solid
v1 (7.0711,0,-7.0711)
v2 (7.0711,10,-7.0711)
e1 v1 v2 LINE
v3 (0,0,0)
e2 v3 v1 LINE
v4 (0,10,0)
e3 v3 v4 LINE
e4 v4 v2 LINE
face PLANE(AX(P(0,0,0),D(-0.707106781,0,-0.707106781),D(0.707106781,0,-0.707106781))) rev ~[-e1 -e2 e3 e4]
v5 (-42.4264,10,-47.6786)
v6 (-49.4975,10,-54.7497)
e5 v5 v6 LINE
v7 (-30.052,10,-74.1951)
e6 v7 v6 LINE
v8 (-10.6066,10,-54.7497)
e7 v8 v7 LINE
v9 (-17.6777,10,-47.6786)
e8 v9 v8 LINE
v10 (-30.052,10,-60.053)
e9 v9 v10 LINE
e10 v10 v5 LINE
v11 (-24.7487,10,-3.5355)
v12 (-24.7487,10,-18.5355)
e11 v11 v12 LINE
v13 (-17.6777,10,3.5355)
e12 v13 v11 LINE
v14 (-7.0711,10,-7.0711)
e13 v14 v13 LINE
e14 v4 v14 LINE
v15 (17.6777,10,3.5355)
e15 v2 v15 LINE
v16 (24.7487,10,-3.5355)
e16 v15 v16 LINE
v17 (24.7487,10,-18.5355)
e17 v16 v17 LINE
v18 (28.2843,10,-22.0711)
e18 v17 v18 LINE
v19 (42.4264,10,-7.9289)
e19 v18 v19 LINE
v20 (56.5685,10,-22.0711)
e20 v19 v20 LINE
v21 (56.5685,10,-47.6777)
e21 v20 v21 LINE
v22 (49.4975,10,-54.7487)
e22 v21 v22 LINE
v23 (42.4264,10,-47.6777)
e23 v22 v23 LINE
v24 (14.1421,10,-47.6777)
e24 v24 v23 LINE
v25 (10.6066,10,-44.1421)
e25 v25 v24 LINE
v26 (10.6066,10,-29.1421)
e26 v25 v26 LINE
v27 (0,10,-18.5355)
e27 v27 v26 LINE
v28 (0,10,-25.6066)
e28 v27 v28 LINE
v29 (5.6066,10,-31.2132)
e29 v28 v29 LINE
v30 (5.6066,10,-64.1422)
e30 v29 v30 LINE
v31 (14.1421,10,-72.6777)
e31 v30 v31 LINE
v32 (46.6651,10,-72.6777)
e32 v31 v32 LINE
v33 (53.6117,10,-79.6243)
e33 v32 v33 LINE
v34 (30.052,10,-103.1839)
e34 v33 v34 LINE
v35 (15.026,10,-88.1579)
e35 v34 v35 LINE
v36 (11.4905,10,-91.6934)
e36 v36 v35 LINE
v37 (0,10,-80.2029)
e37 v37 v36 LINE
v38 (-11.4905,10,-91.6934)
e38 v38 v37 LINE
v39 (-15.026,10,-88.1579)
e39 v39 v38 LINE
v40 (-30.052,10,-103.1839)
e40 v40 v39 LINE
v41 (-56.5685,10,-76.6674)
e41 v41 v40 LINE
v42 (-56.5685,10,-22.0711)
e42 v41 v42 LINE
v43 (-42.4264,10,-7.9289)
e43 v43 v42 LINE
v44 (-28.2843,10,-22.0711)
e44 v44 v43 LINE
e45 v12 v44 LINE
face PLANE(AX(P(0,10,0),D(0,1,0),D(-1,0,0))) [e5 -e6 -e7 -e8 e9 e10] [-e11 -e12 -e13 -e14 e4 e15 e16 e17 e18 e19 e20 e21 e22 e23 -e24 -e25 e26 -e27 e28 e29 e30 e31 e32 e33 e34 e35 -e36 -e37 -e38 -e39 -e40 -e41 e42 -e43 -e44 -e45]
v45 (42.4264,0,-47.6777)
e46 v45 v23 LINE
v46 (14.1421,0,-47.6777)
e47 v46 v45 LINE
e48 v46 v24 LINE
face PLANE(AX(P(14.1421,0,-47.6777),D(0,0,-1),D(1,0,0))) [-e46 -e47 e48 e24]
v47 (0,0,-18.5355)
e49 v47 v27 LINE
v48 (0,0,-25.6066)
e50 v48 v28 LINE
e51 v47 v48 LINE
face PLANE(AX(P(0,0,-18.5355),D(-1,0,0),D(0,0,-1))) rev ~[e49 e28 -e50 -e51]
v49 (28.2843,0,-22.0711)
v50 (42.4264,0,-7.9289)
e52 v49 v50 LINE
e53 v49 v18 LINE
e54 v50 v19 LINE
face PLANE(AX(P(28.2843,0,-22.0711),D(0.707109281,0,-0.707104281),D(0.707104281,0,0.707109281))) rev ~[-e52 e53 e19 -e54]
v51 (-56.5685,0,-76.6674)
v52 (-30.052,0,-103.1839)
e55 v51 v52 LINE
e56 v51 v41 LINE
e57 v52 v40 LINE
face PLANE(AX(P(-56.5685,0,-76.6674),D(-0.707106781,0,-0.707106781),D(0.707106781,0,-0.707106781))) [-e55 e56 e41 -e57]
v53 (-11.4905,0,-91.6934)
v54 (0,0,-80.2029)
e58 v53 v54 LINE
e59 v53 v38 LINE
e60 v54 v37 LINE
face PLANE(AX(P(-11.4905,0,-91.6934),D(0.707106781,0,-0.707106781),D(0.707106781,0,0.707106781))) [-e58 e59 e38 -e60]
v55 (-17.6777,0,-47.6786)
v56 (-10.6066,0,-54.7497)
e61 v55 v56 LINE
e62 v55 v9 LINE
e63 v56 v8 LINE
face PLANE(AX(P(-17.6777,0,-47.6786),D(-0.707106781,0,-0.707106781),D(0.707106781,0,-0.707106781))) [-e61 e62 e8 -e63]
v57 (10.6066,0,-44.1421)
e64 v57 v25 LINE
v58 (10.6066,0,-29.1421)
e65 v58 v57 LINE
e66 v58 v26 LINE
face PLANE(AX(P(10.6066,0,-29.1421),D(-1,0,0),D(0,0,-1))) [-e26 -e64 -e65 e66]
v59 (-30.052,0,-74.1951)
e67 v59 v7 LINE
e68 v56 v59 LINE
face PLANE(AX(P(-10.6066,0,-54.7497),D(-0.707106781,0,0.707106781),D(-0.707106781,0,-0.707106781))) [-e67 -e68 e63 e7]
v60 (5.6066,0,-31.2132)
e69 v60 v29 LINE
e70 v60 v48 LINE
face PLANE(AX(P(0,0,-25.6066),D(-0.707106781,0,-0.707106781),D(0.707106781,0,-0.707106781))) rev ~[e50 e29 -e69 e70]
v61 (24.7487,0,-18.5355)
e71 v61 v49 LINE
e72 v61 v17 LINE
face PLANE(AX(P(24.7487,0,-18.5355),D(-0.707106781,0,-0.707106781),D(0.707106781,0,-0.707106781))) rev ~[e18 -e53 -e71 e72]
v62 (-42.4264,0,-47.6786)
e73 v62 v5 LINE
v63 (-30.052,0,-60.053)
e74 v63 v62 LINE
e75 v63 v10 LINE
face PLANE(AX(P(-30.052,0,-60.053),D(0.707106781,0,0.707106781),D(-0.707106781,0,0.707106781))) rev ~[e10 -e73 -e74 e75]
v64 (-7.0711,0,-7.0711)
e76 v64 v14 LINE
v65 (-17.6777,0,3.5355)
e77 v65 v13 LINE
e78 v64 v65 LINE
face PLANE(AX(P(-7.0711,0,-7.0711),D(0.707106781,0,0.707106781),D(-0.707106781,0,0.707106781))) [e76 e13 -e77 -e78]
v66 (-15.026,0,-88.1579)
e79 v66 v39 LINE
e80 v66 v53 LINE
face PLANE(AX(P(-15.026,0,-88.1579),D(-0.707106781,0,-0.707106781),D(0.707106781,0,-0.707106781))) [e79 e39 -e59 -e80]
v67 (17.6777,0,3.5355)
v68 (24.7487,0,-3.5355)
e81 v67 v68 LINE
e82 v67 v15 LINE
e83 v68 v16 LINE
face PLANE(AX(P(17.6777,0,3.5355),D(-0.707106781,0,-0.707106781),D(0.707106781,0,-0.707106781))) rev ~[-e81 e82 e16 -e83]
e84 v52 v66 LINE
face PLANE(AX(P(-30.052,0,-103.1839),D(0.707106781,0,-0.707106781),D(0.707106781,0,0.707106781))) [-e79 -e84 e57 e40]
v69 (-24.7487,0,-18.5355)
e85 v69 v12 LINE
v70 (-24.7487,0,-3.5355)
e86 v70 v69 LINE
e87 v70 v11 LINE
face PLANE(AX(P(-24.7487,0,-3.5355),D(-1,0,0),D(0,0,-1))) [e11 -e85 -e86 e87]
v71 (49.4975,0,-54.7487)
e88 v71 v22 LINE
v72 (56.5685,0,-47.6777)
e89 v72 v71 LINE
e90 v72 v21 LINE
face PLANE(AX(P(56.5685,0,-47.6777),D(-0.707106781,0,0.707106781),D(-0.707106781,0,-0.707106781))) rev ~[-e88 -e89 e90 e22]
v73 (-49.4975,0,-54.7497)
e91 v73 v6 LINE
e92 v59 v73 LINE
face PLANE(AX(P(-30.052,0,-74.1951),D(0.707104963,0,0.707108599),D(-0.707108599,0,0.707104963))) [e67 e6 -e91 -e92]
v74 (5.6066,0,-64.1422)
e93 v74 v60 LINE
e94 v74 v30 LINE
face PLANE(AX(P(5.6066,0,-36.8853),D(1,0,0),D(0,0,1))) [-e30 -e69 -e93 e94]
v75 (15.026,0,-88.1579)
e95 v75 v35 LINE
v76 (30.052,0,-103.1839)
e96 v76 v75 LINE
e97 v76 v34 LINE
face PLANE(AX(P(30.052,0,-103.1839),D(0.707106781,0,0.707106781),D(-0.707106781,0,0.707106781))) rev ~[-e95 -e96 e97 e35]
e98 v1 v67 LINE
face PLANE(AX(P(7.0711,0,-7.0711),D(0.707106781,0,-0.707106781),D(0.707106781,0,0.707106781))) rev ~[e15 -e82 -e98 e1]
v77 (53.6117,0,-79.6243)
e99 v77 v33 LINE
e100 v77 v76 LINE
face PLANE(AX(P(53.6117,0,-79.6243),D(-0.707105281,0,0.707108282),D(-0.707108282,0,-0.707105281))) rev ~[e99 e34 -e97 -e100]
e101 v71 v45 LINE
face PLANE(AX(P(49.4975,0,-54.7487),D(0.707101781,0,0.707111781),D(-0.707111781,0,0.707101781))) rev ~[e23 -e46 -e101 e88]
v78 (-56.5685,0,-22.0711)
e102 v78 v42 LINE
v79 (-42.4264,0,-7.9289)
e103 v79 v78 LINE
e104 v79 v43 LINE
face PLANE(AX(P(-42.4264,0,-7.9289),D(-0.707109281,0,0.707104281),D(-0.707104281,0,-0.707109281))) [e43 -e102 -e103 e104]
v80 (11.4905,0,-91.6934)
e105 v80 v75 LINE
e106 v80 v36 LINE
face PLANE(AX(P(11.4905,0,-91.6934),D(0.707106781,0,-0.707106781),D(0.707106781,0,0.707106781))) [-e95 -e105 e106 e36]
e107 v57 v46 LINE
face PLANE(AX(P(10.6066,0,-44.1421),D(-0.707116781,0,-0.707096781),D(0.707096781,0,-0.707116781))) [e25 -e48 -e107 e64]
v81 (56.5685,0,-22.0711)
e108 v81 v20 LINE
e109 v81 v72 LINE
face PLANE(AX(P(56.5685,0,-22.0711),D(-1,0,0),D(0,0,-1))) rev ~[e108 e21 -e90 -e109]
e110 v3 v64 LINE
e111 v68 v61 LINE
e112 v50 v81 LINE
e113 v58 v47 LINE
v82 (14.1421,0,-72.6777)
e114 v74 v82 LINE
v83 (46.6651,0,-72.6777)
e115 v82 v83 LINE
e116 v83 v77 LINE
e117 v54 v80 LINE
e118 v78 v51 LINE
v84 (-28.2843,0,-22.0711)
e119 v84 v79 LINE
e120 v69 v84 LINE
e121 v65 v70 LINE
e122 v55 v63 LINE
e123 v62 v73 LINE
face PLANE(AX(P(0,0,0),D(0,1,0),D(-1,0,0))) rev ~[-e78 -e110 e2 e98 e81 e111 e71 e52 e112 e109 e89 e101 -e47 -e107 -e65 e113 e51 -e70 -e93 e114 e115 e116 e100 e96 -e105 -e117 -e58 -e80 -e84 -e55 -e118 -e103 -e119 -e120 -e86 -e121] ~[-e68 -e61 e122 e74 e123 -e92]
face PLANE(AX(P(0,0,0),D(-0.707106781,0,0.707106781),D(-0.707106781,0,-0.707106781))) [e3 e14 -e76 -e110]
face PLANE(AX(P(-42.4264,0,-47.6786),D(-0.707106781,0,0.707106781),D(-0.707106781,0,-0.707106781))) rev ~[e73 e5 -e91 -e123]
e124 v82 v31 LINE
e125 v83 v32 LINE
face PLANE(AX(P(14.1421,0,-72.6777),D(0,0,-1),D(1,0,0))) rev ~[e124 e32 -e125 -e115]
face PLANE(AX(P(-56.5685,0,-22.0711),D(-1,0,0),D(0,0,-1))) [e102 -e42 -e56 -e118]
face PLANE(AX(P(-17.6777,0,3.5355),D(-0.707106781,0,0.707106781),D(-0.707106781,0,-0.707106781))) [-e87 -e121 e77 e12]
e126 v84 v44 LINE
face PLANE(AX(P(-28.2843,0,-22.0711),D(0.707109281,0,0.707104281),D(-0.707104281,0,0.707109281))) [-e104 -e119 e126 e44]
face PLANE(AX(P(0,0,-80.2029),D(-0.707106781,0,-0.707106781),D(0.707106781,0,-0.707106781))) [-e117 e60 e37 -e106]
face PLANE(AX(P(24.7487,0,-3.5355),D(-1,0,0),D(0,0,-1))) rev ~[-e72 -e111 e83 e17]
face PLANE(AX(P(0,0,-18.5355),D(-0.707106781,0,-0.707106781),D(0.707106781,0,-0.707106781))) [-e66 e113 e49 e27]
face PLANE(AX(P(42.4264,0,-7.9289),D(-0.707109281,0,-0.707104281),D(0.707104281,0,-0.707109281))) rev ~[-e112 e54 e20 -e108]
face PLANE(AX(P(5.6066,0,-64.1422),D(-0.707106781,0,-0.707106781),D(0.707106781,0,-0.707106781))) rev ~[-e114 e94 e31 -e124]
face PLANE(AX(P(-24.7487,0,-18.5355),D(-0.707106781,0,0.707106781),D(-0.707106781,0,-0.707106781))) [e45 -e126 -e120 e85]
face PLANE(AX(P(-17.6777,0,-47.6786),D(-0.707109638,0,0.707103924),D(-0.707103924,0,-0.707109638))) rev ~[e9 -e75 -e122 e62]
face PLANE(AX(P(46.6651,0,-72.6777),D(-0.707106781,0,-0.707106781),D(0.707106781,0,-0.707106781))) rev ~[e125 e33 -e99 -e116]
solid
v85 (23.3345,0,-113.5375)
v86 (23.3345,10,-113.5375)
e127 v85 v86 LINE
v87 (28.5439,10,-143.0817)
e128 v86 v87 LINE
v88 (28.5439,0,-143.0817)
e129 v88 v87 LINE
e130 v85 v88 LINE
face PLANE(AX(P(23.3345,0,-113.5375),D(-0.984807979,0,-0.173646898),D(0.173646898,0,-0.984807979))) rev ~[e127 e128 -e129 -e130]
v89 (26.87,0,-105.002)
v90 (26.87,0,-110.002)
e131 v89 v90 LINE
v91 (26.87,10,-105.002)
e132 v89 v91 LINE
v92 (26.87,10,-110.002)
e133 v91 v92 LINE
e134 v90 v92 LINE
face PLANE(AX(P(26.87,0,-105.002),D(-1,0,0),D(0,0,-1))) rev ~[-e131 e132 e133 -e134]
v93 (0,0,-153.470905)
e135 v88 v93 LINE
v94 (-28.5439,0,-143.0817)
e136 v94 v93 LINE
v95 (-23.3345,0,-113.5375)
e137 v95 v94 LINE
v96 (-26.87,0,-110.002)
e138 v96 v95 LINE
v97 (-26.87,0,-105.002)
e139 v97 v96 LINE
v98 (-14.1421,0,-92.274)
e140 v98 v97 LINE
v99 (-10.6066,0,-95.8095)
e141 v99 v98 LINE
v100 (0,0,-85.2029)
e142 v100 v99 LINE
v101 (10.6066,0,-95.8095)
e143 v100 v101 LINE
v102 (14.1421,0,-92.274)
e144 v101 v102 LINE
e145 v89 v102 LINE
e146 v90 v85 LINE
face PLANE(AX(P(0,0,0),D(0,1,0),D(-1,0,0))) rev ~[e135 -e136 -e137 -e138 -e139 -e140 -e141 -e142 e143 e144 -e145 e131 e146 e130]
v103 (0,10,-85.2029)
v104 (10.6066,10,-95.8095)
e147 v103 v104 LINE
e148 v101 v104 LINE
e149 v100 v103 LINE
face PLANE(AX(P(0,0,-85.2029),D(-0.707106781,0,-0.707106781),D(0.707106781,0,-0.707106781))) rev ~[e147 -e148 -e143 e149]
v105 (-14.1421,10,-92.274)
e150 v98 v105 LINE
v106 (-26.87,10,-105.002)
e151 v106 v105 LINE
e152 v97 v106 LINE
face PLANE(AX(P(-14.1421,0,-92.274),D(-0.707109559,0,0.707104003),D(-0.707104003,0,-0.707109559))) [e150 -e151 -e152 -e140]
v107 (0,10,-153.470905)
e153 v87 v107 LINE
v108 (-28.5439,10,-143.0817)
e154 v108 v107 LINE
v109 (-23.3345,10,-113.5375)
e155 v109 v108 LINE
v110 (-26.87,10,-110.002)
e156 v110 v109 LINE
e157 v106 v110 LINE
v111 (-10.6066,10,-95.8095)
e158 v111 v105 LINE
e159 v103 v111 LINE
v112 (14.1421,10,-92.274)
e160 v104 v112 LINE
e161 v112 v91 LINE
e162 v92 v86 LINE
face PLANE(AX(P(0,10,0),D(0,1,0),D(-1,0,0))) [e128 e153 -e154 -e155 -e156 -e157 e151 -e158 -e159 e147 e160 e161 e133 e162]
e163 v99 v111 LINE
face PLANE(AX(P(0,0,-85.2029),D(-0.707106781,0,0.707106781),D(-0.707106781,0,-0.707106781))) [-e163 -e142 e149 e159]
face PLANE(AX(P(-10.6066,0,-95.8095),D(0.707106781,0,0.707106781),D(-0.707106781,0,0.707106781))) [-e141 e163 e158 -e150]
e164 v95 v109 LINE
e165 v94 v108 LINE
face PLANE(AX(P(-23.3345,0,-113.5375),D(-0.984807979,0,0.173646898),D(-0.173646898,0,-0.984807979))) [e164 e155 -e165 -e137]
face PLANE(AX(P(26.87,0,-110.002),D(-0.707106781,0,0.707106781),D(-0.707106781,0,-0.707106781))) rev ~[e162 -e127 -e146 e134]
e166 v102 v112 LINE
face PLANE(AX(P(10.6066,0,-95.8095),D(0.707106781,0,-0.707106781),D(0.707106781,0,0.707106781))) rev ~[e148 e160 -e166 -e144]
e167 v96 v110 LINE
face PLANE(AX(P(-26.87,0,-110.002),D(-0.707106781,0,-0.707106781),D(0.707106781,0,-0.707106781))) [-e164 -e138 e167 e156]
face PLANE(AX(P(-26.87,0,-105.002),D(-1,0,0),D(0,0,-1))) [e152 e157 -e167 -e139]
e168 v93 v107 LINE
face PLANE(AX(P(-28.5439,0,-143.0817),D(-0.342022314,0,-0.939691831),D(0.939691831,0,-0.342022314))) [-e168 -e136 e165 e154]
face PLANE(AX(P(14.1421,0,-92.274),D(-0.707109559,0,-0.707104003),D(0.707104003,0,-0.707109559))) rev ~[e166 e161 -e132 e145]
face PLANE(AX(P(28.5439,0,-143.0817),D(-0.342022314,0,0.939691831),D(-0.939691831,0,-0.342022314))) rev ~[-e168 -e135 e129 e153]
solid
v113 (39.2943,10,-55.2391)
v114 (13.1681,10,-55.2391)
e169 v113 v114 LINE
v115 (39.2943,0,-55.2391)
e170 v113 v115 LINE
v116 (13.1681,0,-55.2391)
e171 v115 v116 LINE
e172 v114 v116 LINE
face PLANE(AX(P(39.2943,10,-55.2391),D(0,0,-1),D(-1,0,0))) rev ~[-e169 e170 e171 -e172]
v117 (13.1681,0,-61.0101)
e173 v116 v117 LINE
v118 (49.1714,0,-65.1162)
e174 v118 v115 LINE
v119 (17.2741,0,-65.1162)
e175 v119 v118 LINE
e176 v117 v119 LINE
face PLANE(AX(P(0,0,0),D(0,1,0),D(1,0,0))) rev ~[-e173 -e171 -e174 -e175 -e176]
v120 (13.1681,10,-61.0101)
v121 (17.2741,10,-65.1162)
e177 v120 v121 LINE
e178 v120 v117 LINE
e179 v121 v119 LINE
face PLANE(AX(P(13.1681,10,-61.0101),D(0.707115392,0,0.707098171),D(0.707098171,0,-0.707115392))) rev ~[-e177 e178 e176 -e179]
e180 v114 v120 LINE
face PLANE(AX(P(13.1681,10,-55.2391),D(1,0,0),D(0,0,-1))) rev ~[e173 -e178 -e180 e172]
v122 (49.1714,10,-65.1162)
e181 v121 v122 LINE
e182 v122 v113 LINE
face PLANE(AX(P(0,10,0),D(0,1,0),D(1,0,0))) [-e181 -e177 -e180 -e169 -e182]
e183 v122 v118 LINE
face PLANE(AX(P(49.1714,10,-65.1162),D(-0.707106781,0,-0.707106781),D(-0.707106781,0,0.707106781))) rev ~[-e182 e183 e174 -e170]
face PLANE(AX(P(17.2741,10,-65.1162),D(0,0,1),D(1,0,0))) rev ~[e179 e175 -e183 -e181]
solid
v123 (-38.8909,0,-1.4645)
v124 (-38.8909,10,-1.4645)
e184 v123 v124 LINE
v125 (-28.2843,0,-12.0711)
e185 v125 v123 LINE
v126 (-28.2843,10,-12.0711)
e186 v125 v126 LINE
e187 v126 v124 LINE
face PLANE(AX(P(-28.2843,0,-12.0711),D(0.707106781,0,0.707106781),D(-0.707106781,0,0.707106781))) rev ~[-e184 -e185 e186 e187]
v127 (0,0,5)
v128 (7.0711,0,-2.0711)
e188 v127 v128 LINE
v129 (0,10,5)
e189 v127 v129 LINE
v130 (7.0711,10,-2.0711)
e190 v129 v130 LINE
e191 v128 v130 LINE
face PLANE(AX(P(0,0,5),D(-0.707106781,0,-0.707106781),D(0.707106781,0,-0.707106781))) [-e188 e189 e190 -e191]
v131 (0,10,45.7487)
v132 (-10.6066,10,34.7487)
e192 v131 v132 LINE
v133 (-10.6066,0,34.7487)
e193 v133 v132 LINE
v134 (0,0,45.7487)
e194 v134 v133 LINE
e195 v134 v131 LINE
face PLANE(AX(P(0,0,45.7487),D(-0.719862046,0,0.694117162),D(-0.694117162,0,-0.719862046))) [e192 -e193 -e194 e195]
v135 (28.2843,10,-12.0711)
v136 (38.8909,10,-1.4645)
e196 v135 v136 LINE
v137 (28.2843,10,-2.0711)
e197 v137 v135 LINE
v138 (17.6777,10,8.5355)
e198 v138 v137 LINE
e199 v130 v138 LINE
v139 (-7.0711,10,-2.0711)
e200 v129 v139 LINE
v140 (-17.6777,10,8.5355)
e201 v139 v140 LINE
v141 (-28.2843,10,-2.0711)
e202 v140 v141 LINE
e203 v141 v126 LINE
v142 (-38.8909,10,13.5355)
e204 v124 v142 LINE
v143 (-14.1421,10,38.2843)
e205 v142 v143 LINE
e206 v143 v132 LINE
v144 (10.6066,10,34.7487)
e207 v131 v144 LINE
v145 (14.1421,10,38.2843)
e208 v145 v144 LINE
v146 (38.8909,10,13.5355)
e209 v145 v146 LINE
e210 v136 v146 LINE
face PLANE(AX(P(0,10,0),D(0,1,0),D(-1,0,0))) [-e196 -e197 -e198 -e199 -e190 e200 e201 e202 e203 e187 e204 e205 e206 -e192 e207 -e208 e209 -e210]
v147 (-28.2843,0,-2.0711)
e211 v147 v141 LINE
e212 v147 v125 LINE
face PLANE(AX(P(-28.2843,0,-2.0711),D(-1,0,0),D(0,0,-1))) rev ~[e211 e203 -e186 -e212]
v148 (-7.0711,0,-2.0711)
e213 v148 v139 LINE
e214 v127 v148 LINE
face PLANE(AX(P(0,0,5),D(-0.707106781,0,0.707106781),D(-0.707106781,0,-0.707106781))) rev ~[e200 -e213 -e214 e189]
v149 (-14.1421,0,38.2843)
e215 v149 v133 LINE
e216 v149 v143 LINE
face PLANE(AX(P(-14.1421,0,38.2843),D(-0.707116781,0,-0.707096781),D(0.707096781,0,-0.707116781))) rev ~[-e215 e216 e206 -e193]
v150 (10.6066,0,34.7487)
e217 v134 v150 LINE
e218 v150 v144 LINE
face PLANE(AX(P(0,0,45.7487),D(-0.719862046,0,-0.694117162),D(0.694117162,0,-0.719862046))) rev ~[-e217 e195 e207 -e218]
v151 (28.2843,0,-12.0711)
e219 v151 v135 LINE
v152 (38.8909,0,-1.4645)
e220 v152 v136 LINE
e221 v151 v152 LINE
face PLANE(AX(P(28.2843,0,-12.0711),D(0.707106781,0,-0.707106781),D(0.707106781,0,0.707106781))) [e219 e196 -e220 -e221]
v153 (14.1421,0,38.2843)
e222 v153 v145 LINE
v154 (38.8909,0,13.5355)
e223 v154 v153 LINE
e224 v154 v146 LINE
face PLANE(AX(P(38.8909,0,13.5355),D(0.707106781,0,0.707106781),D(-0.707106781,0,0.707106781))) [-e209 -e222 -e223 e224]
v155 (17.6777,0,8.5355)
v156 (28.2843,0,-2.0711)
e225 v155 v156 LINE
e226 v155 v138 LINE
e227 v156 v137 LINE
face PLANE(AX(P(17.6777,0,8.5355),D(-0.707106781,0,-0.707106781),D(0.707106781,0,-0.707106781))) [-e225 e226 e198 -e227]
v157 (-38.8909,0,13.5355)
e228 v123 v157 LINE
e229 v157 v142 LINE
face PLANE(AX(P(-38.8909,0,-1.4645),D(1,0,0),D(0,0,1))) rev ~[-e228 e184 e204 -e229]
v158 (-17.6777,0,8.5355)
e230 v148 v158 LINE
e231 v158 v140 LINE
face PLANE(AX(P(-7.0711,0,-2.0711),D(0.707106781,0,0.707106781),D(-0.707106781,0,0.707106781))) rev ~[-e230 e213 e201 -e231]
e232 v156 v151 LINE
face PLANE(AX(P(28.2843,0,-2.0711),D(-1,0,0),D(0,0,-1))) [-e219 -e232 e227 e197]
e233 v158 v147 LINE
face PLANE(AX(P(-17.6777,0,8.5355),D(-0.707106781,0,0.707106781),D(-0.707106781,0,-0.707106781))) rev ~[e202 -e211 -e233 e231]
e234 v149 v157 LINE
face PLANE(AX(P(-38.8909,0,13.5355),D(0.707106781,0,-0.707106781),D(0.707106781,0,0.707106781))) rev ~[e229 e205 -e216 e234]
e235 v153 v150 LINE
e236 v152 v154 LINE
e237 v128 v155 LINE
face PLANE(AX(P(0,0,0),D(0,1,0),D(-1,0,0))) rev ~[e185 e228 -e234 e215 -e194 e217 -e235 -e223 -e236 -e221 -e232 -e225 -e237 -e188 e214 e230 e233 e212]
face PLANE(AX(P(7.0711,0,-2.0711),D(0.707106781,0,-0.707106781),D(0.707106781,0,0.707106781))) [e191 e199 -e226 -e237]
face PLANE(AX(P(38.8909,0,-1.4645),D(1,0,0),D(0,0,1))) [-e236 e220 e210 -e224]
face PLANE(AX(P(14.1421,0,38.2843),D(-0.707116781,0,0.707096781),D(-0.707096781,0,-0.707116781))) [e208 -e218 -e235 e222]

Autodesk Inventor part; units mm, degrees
ref_plane "YZ Plane" through (0, 0, 0) normal (1, 0, 0) x (0, 1, 0)
ref_plane "XZ Plane" through (0, 0, 0) normal (0, 1, 0) x (-1, 0, 0)
ref_plane "XY Plane" through (0, 0, 0) normal (0, 0, 1) x (1, 0, 0)
sketch "Sketch1" plane through (0, 0, 0) normal (0, 1, 0) x (-1, 0, 0)
  line L0 (0, 0) -> (-7.0711, -7.0711)
  line L1 (0, 0) -> (7.0711, -7.0711)
  line L2 (0, 0) -> (-1, 0)
  line L3 (7.0711, -7.0711) -> (17.6777, 3.5355)
  line L4 (-7.0711, -7.0711) -> (-17.6777, 3.5355)
  line L5 (0, 0) -> (0, 5)
  line L6 (0, 5) -> (7.0711, -2.0711)
  line L7 (7.0711, -2.0711) -> (17.6777, 8.5355)
  line L8 (0, 5) -> (-7.0711, -2.0711)
  line L9 (-7.0711, -2.0711) -> (-17.6777, 8.5355)
  line L10 (17.6777, 3.5355) -> (24.7487, -3.5355)
  line L11 (-17.6777, 3.5355) -> (-24.7487, -3.5355)
  line L12 (17.6777, 8.5355) -> (28.2843, -2.0711)
  line L13 (-17.6777, 8.5355) -> (-28.2843, -2.0711)
  line L14 (24.7487, -3.5355) -> (24.7487, -18.5355)
  line L15 (-24.7487, -3.5355) -> (-24.7487, -18.5355)
  line L16 (28.2843, -2.0711) -> (28.2843, -12.0711)
  line L17 (-28.2843, -2.0711) -> (-28.2843, -12.0711)
  line L18 (28.2843, -12.0711) -> (38.8909, -1.4645)
  line L19 (-28.2843, -12.0711) -> (-38.8909, -1.4645)
  line L20 (38.8909, -1.4645) -> (38.8909, 13.5355)
  line L21 (38.8909, 13.5355) -> (17.6777, 34.7487)
  line L22 (-38.8909, -1.4645) -> (-38.8909, 13.5355)
  line L23 (-38.8909, 13.5355) -> (-17.6777, 34.7487)
  line L24 (-17.6777, 34.7487) -> (17.6777, 34.7487)
  line L25 (24.7487, -18.5355) -> (28.2843, -22.0711)
  line L26 (28.2843, -22.0711) -> (42.4264, -7.9289)
  line L27 (-24.7487, -18.5355) -> (-28.2843, -22.0711)
  line L28 (-28.2843, -22.0711) -> (-42.4264, -7.9289)
  line L29 (17.6777, 34.7487) -> (14.1421, 38.2843)
  line L30 (14.1421, 38.2843) -> (10.6066, 34.7487)
  line L31 (0, 34.7487) -> (0, 45.7487)
  line L32 (10.6066, 34.7487) -> (0, 34.7487)
  line L33 (5.3033, 34.7487) -> (0, 34.7487)
  line L34 (0, 45.7487) -> (10.6066, 34.7487)
  line L35 (-17.6777, 34.7487) -> (-14.1421, 38.2843)
  line L36 (-14.1421, 38.2843) -> (-10.6066, 34.7487)
  line L37 (0, 45.7487) -> (-10.6066, 34.7487)
  line L38 (-42.4264, -7.9289) -> (-56.5685, -22.0711)
  line L39 (42.4264, -7.9289) -> (56.5685, -22.0711)
  line L40 (0, 0) -> (0, -18.5355)
  line L41 (0, -18.5355) -> (-10.6066, -29.1421)
  line L42 (-10.6066, -29.1421) -> (-10.6066, -44.1421)
  line L43 (-10.6066, -44.1421) -> (-14.1421, -47.6777)
  line L44 (-56.5685, -22.0711) -> (-56.5685, -47.6777)
  line L45 (-14.1421, -47.6777) -> (-56.5685, -47.6777)
  line L46 (-56.5685, -47.6777) -> (-49.4975, -54.7487)
  line L47 (-49.4975, -54.7487) -> (-42.4264, -47.6777)
  line L48 (-56.5685, -47.6777) -> (-52.6777, -47.6777)
  line L49 (-47.6777, -47.6777) -> (-42.4264, -47.6777)
  line L50 (-10.6066, -36.8853) -> (-5.6066, -36.8853)
  line L51 (-6.1919, -24.7274) -> (-2.6564, -28.263)
  line L52 (-5.6066, -36.8853) -> (-5.6066, -31.2132)
  line L53 (-5.6066, -31.2132) -> (-2.6564, -28.263)
  line L54 (0, -18.5355) -> (0, -25.6066)
  line L55 (0, -25.6066) -> (-2.6564, -28.263)
  line L56 (-5.6066, -36.8853) -> (-5.6066, -44.1422)
  line L57 (-5.6066, -44.1422) -> (-5.6066, -64.1422)
  line L58 (-5.6066, -64.1422) -> (-14.1421, -72.6777)
  line L59 (-14.1421, -72.6777) -> (-46.6651, -72.6777)
  line L60 (-46.6651, -72.6777) -> (-53.6117, -79.6243)
  line L61 (56.5685, -22.0711) -> (56.5685, -47.6777)
  line L62 (42.4264, -7.9289) -> (42.4264, -47.6786)
  line L63 (17.6777, 3.5355) -> (17.6777, -47.6786)
  line L64 (17.6777, -47.6786) -> (10.6066, -54.7497)
  line L65 (42.4264, -47.6786) -> (49.4975, -54.7497)
  line L66 (17.6777, -47.6786) -> (30.052, -60.053)
  line L67 (30.052, -60.053) -> (42.4264, -47.6786)
  line L68 (10.6066, -54.7497) -> (30.052, -74.1951)
  line L69 (30.052, -74.1951) -> (49.4975, -54.7497)
  line L70 (56.5685, -47.6777) -> (56.5685, -76.6674)
  line L71 (0, -25.6066) -> (0, -125.6066)
  line L72 (56.5685, -76.6674) -> (30.052, -103.1839)
  line L73 (30.052, -103.1839) -> (30.052, -74.1951)
  line L74 (30.052, -103.1839) -> (0, -103.1839)
  line L75 (0, -103.1839) -> (-30.052, -103.1839)
  line L76 (-53.6117, -79.6243) -> (-30.052, -103.1839)
  line L77 (30.052, -103.1839) -> (0, -73.1319)
  line L78 (-30.052, -103.1839) -> (0, -73.1319)
  line L79 (0, -73.1319) -> (0, -88.1319)
  line L80 (15.026, -88.1579) -> (11.4905, -91.6934)
  line L81 (11.4905, -91.6934) -> (0, -80.2029)
  line L82 (0, -80.2029) -> (-11.4905, -91.6934)
  line L83 (-11.4905, -91.6934) -> (-15.026, -88.1579)
  line L84 (0, -80.2029) -> (0, -85.2029)
  line L85 (0, -85.2029) -> (10.6066, -95.8095)
  line L86 (0, -85.2029) -> (-10.6066, -95.8095)
  line L87 (-10.6066, -95.8095) -> (-14.1421, -92.274)
  line L88 (10.6066, -95.8095) -> (14.1421, -92.274)
  line L89 (14.1421, -92.274) -> (26.87, -105.002)
  line L90 (-14.1421, -92.274) -> (-26.87, -105.002)
  line L91 (-26.87, -105.002) -> (-26.87, -110.002)
  line L92 (26.87, -105.002) -> (26.87, -110.002)
  line L93 (-26.87, -105.002) -> (-30.052, -105.002)
  line L94 (26.87, -110.002) -> (23.3345, -113.5375)
  line L95 (-26.87, -110.002) -> (-23.3345, -113.5375)
  line L96 (23.3345, -113.5375) -> (-23.3345, -113.5375)
  line L97 (0, -113.5375) -> (23.3345, -113.5375)
  line L98 (0, -113.5375) -> (-23.3345, -113.5375)
  line L99 (23.3345, -113.5375) -> (28.5439, -143.0817)
  line L100 (28.5439, -143.0817) -> (-1.5262, -154.0264)
  line L101 (-23.3345, -113.5375) -> (-28.5439, -143.0817)
  line L102 (-28.5439, -143.0817) -> (1.5262, -154.0264)
  line L103 (1.5262, -154.0264) -> (-1.5262, -154.0264)
  point P0 (0, -153.4709)
  dimension "d0" = 10
  dimension "d1" = 90
  dimension "d2" = 45
  dimension "d3" = 1
  dimension "d4" = 15
  dimension "d5" = 90
  dimension "d6" = 10
  dimension "d7" = 15
  dimension "d8" = 90
  dimension "d9" = 5
  dimension "d10" = 10
  dimension "d11" = 45
  dimension "d12" = 15
  dimension "d13" = 10
  dimension "d14" = 45
  dimension "d15" = 15
  dimension "d16" = 90
  dimension "d17" = 10
  dimension "d18" = 90
  dimension "d19" = 10
  dimension "d20" = 90
  dimension "d21" = 15
  dimension "d22" = 90
  dimension "d23" = 15
  dimension "d24" = 90
  dimension "d25" = 15
  dimension "d26" = 15
  dimension "d27" = 10
  dimension "d28" = 15
  dimension "d29" = 45
  dimension "d30" = 15
  dimension "d31" = 45
  dimension "d32" = 10
  dimension "d33" = 15
  dimension "d34" = 135
  dimension "d35" = 30
  dimension "d36" = 30
  dimension "d37" = 135
  dimension "d38" = 5
  dimension "d39" = 135
  dimension "d40" = 90
  dimension "d41" = 20
  dimension "d42" = 5
  dimension "d43" = 20
  dimension "d44" = 135
  dimension "d45" = 5
  dimension "d46" = 11
  dimension "d47" = 5
  dimension "d48" = 45
  dimension "d49" = 5
  dimension "d50" = 90
  dimension "d51" = 20
  dimension "d52" = 20
  dimension "d53" = 90
  dimension "d54" = 15
  dimension "d55" = 15
  dimension "d56" = 5
  dimension "d57" = 135
  dimension "d58" = 18.5355
  dimension "d59" = 10
  dimension "d60" = 10
  dimension "d61" = 45
  dimension "d62" = 45
  dimension "d63" = 3.8909
extrude "Extrusion1" add sketch "Sketch1" along normal blind 10 contours L40 L41 L42 L43 L45 L44 L38 L28 L27 L15 L11 L4 L0 | L8 L9 L13 L17 L19 L22 L23 L24 L21 L20 L18 L16 L12 L7 L6 | L1 L3 L63 L64 L68 L73 L77 L71 L54 L40 | L10 L14 L25 L26 L62 L67 L66 L63 | L71 L78 L76 L60 L59 L58 L57 L56 L52 L53 L55 | L77 L80 L81 L71 | L71 L82 L83 L78 | L69 L65 L62 L39 L61 L70 L72 L73 | L85 L88 L89 L74 L71 | L71 L75 L90 L87 L86 | L89 L92 L94 L96 L71 L74 | L75 L71 L96 L95 L91 L90 | L47 L46 L45 | L24 L30 L29 | L35 L36 L24 | L96 L99 L100 L102 L101 | L24 L31 L34 | L37 L31 L24
sketch "Sketch2" plane through (0, 10, 0) normal (0, 1, 0) x (1, 0, 0)
  line L0 (14.1421, 47.6777) -> (10.6066, 44.1421) projected
  line L1 (10.6066, 44.1421) -> (10.6066, 29.1421) projected
  line L2 (10.6066, 29.1421) -> (0, 18.5355) projected
  line L3 (0, 18.5355) -> (0, 25.6066) projected
  line L4 (0, 25.6066) -> (5.6066, 31.2132) projected
  line L5 (5.6066, 31.2132) -> (5.6066, 64.1422) projected
  line L6 (5.6066, 64.1422) -> (14.1421, 72.6777) projected
  line L7 (14.1421, 72.6777) -> (46.6651, 72.6777) projected
  line L8 (46.6651, 72.6777) -> (53.6117, 79.6243) projected
  line L9 (53.6117, 79.6243) -> (30.052, 103.1839) projected
  line L10 (30.052, 103.1839) -> (15.026, 88.1579) projected
  line L11 (15.026, 88.1579) -> (11.4905, 91.6934) projected
  line L12 (11.4905, 91.6934) -> (0, 80.2029) projected
  line L13 (0, 80.2029) -> (-11.4905, 91.6934) projected
  line L14 (-11.4905, 91.6934) -> (-15.026, 88.1579) projected
  line L15 (-15.026, 88.1579) -> (-30.052, 103.1839) projected
  line L16 (-30.052, 103.1839) -> (-56.5685, 76.6674) projected
  line L17 (-56.5685, 76.6674) -> (-56.5685, 22.0711) projected
  line L18 (-56.5685, 22.0711) -> (-42.4264, 7.9289) projected
  line L19 (-42.4264, 7.9289) -> (-28.2843, 22.0711) projected
  line L20 (-28.2843, 22.0711) -> (-24.7487, 18.5355) projected
  line L21 (-24.7487, 18.5355) -> (-24.7487, 3.5355) projected
  line L22 (-24.7487, 3.5355) -> (-17.6777, -3.5355) projected
  line L23 (-17.6777, -3.5355) -> (-7.0711, 7.0711) projected
  line L24 (-7.0711, 7.0711) -> (0, 0) projected
  line L25 (0, 0) -> (7.0711, 7.0711) projected
  line L26 (7.0711, 7.0711) -> (17.6777, -3.5355) projected
  line L27 (17.6777, -3.5355) -> (24.7487, 3.5355) projected
  line L28 (24.7487, 3.5355) -> (24.7487, 18.5355) projected
  line L29 (24.7487, 18.5355) -> (28.2843, 22.0711) projected
  line L30 (28.2843, 22.0711) -> (42.4264, 7.9289) projected
  line L31 (42.4264, 7.9289) -> (56.5685, 22.0711) projected
  line L32 (56.5685, 22.0711) -> (56.5685, 47.6777) projected
  line L33 (56.5685, 47.6777) -> (49.4975, 54.7487) projected
  line L34 (49.4975, 54.7487) -> (42.4264, 47.6777) projected
  line L35 (42.4264, 47.6777) -> (14.1421, 47.6777) projected
  line L36 (-30.052, 60.053) -> (-42.4264, 47.6786) projected
  line L37 (-42.4264, 47.6786) -> (-49.4975, 54.7497) projected
  line L38 (-49.4975, 54.7497) -> (-30.052, 74.1951) projected
  line L39 (-30.052, 74.1951) -> (-10.6066, 54.7497) projected
  line L40 (-10.6066, 54.7497) -> (-17.6777, 47.6786) projected
  line L41 (-17.6777, 47.6786) -> (-30.052, 60.053) projected
  line L42 (13.1681, 55.2391) -> (13.1681, 61.0101)
  line L43 (13.1681, 61.0101) -> (17.2741, 65.1162)
  line L44 (17.2741, 65.1162) -> (49.7971, 65.1162)
  line L45 (49.7971, 65.1162) -> (64.3052, 79.6243)
  line L46 (64.3052, 79.6243) -> (30.052, 113.8774)
  line L47 (30.052, 113.8774) -> (15.026, 98.8514)
  line L48 (15.026, 98.8514) -> (11.4905, 102.3869)
  line L49 (11.4905, 102.3869) -> (0, 90.8965)
  line L50 (0, 90.8965) -> (-11.4905, 102.3869)
  line L51 (-11.4905, 102.3869) -> (-15.026, 98.8514)
  line L52 (-15.026, 98.8514) -> (-30.052, 113.8774)
  line L53 (-30.052, 113.8774) -> (-64.13, 79.7995)
  line L54 (-64.13, 79.7995) -> (-64.13, 18.939)
  line L55 (-64.13, 18.939) -> (-42.4264, -2.7646)
  line L56 (-42.4264, -2.7646) -> (-32.3102, 7.3516)
  line L57 (-32.3102, 7.3516) -> (-32.3102, 0.4035)
  line L58 (-32.3102, 0.4035) -> (-17.6777, -14.2291)
  line L59 (-17.6777, -14.2291) -> (-7.0711, -3.6225)
  line L60 (-7.0711, -3.6225) -> (0, -10.6935)
  line L61 (0, -10.6935) -> (7.0711, -3.6225)
  line L62 (7.0711, -3.6225) -> (17.6777, -14.2291)
  line L63 (17.6777, -14.2291) -> (32.3102, 0.4035)
  line L64 (32.3102, 0.4035) -> (32.3102, 7.3516)
  line L65 (32.3102, 7.3516) -> (42.4264, -2.7646)
  line L66 (42.4264, -2.7646) -> (64.13, 18.939)
  line L67 (64.13, 18.939) -> (64.13, 50.8097)
  line L68 (64.13, 50.8097) -> (49.4975, 65.4423)
  line L69 (49.4975, 65.4423) -> (39.2943, 55.2391)
  line L70 (39.2943, 55.2391) -> (13.1681, 55.2391)
  point P0 (49.1714, 65.1162)
extrude "Extrusion2" add sketch "Sketch2" against normal blind 10 contours L42 L43 L44 L69 L70
equation "\"d4\" = d7"
equation "\"d5\" = d1"
equation "\"d6\" = d0"
equation "\"d7\" = 1.5 * d0"
equation "\"d8\" = d1"
equation "\"d10\" = d0"
equation "\"d11\" = d2"
equation "\"d12\" = d7"
equation "\"d13\" = d0"
equation "\"d14\" = d2"
equation "\"d15\" = d7"
equation "\"d16\" = d1"
equation "\"d18\" = d1"
equation "\"d20\" = d1"
equation "\"d21\" = d7"
equation "\"d22\" = d1"
equation "\"d23\" = d7"
equation "\"d24\" = d1"
equation "\"d25\" = d7"
equation "\"d26\" = d7"
equation "\"d27\" = d0"
equation "\"d28\" = d7"
equation "\"d29\" = d2"
equation "\"d30\" = d7"
equation "\"d31\" = d2"
equation "\"d32\" = d0"
equation "\"d33\" = d7"
equation "\"d36\" = d35"
equation "\"d37\" = d34"
equation "\"d38\" = 0.5 * d0"
equation "\"d41\" = 2 * d0"
equation "\"d42\" = d38"
equation "\"d43\" = d41"
equation "\"d44\" = d39"
equation "\"d47\" = d45"
equation "\"d50\" = d1"
equation "\"d51\" = d43"
equation "\"d52\" = d43"
equation "\"d53\" = d1"
properties part number "New Logo"
